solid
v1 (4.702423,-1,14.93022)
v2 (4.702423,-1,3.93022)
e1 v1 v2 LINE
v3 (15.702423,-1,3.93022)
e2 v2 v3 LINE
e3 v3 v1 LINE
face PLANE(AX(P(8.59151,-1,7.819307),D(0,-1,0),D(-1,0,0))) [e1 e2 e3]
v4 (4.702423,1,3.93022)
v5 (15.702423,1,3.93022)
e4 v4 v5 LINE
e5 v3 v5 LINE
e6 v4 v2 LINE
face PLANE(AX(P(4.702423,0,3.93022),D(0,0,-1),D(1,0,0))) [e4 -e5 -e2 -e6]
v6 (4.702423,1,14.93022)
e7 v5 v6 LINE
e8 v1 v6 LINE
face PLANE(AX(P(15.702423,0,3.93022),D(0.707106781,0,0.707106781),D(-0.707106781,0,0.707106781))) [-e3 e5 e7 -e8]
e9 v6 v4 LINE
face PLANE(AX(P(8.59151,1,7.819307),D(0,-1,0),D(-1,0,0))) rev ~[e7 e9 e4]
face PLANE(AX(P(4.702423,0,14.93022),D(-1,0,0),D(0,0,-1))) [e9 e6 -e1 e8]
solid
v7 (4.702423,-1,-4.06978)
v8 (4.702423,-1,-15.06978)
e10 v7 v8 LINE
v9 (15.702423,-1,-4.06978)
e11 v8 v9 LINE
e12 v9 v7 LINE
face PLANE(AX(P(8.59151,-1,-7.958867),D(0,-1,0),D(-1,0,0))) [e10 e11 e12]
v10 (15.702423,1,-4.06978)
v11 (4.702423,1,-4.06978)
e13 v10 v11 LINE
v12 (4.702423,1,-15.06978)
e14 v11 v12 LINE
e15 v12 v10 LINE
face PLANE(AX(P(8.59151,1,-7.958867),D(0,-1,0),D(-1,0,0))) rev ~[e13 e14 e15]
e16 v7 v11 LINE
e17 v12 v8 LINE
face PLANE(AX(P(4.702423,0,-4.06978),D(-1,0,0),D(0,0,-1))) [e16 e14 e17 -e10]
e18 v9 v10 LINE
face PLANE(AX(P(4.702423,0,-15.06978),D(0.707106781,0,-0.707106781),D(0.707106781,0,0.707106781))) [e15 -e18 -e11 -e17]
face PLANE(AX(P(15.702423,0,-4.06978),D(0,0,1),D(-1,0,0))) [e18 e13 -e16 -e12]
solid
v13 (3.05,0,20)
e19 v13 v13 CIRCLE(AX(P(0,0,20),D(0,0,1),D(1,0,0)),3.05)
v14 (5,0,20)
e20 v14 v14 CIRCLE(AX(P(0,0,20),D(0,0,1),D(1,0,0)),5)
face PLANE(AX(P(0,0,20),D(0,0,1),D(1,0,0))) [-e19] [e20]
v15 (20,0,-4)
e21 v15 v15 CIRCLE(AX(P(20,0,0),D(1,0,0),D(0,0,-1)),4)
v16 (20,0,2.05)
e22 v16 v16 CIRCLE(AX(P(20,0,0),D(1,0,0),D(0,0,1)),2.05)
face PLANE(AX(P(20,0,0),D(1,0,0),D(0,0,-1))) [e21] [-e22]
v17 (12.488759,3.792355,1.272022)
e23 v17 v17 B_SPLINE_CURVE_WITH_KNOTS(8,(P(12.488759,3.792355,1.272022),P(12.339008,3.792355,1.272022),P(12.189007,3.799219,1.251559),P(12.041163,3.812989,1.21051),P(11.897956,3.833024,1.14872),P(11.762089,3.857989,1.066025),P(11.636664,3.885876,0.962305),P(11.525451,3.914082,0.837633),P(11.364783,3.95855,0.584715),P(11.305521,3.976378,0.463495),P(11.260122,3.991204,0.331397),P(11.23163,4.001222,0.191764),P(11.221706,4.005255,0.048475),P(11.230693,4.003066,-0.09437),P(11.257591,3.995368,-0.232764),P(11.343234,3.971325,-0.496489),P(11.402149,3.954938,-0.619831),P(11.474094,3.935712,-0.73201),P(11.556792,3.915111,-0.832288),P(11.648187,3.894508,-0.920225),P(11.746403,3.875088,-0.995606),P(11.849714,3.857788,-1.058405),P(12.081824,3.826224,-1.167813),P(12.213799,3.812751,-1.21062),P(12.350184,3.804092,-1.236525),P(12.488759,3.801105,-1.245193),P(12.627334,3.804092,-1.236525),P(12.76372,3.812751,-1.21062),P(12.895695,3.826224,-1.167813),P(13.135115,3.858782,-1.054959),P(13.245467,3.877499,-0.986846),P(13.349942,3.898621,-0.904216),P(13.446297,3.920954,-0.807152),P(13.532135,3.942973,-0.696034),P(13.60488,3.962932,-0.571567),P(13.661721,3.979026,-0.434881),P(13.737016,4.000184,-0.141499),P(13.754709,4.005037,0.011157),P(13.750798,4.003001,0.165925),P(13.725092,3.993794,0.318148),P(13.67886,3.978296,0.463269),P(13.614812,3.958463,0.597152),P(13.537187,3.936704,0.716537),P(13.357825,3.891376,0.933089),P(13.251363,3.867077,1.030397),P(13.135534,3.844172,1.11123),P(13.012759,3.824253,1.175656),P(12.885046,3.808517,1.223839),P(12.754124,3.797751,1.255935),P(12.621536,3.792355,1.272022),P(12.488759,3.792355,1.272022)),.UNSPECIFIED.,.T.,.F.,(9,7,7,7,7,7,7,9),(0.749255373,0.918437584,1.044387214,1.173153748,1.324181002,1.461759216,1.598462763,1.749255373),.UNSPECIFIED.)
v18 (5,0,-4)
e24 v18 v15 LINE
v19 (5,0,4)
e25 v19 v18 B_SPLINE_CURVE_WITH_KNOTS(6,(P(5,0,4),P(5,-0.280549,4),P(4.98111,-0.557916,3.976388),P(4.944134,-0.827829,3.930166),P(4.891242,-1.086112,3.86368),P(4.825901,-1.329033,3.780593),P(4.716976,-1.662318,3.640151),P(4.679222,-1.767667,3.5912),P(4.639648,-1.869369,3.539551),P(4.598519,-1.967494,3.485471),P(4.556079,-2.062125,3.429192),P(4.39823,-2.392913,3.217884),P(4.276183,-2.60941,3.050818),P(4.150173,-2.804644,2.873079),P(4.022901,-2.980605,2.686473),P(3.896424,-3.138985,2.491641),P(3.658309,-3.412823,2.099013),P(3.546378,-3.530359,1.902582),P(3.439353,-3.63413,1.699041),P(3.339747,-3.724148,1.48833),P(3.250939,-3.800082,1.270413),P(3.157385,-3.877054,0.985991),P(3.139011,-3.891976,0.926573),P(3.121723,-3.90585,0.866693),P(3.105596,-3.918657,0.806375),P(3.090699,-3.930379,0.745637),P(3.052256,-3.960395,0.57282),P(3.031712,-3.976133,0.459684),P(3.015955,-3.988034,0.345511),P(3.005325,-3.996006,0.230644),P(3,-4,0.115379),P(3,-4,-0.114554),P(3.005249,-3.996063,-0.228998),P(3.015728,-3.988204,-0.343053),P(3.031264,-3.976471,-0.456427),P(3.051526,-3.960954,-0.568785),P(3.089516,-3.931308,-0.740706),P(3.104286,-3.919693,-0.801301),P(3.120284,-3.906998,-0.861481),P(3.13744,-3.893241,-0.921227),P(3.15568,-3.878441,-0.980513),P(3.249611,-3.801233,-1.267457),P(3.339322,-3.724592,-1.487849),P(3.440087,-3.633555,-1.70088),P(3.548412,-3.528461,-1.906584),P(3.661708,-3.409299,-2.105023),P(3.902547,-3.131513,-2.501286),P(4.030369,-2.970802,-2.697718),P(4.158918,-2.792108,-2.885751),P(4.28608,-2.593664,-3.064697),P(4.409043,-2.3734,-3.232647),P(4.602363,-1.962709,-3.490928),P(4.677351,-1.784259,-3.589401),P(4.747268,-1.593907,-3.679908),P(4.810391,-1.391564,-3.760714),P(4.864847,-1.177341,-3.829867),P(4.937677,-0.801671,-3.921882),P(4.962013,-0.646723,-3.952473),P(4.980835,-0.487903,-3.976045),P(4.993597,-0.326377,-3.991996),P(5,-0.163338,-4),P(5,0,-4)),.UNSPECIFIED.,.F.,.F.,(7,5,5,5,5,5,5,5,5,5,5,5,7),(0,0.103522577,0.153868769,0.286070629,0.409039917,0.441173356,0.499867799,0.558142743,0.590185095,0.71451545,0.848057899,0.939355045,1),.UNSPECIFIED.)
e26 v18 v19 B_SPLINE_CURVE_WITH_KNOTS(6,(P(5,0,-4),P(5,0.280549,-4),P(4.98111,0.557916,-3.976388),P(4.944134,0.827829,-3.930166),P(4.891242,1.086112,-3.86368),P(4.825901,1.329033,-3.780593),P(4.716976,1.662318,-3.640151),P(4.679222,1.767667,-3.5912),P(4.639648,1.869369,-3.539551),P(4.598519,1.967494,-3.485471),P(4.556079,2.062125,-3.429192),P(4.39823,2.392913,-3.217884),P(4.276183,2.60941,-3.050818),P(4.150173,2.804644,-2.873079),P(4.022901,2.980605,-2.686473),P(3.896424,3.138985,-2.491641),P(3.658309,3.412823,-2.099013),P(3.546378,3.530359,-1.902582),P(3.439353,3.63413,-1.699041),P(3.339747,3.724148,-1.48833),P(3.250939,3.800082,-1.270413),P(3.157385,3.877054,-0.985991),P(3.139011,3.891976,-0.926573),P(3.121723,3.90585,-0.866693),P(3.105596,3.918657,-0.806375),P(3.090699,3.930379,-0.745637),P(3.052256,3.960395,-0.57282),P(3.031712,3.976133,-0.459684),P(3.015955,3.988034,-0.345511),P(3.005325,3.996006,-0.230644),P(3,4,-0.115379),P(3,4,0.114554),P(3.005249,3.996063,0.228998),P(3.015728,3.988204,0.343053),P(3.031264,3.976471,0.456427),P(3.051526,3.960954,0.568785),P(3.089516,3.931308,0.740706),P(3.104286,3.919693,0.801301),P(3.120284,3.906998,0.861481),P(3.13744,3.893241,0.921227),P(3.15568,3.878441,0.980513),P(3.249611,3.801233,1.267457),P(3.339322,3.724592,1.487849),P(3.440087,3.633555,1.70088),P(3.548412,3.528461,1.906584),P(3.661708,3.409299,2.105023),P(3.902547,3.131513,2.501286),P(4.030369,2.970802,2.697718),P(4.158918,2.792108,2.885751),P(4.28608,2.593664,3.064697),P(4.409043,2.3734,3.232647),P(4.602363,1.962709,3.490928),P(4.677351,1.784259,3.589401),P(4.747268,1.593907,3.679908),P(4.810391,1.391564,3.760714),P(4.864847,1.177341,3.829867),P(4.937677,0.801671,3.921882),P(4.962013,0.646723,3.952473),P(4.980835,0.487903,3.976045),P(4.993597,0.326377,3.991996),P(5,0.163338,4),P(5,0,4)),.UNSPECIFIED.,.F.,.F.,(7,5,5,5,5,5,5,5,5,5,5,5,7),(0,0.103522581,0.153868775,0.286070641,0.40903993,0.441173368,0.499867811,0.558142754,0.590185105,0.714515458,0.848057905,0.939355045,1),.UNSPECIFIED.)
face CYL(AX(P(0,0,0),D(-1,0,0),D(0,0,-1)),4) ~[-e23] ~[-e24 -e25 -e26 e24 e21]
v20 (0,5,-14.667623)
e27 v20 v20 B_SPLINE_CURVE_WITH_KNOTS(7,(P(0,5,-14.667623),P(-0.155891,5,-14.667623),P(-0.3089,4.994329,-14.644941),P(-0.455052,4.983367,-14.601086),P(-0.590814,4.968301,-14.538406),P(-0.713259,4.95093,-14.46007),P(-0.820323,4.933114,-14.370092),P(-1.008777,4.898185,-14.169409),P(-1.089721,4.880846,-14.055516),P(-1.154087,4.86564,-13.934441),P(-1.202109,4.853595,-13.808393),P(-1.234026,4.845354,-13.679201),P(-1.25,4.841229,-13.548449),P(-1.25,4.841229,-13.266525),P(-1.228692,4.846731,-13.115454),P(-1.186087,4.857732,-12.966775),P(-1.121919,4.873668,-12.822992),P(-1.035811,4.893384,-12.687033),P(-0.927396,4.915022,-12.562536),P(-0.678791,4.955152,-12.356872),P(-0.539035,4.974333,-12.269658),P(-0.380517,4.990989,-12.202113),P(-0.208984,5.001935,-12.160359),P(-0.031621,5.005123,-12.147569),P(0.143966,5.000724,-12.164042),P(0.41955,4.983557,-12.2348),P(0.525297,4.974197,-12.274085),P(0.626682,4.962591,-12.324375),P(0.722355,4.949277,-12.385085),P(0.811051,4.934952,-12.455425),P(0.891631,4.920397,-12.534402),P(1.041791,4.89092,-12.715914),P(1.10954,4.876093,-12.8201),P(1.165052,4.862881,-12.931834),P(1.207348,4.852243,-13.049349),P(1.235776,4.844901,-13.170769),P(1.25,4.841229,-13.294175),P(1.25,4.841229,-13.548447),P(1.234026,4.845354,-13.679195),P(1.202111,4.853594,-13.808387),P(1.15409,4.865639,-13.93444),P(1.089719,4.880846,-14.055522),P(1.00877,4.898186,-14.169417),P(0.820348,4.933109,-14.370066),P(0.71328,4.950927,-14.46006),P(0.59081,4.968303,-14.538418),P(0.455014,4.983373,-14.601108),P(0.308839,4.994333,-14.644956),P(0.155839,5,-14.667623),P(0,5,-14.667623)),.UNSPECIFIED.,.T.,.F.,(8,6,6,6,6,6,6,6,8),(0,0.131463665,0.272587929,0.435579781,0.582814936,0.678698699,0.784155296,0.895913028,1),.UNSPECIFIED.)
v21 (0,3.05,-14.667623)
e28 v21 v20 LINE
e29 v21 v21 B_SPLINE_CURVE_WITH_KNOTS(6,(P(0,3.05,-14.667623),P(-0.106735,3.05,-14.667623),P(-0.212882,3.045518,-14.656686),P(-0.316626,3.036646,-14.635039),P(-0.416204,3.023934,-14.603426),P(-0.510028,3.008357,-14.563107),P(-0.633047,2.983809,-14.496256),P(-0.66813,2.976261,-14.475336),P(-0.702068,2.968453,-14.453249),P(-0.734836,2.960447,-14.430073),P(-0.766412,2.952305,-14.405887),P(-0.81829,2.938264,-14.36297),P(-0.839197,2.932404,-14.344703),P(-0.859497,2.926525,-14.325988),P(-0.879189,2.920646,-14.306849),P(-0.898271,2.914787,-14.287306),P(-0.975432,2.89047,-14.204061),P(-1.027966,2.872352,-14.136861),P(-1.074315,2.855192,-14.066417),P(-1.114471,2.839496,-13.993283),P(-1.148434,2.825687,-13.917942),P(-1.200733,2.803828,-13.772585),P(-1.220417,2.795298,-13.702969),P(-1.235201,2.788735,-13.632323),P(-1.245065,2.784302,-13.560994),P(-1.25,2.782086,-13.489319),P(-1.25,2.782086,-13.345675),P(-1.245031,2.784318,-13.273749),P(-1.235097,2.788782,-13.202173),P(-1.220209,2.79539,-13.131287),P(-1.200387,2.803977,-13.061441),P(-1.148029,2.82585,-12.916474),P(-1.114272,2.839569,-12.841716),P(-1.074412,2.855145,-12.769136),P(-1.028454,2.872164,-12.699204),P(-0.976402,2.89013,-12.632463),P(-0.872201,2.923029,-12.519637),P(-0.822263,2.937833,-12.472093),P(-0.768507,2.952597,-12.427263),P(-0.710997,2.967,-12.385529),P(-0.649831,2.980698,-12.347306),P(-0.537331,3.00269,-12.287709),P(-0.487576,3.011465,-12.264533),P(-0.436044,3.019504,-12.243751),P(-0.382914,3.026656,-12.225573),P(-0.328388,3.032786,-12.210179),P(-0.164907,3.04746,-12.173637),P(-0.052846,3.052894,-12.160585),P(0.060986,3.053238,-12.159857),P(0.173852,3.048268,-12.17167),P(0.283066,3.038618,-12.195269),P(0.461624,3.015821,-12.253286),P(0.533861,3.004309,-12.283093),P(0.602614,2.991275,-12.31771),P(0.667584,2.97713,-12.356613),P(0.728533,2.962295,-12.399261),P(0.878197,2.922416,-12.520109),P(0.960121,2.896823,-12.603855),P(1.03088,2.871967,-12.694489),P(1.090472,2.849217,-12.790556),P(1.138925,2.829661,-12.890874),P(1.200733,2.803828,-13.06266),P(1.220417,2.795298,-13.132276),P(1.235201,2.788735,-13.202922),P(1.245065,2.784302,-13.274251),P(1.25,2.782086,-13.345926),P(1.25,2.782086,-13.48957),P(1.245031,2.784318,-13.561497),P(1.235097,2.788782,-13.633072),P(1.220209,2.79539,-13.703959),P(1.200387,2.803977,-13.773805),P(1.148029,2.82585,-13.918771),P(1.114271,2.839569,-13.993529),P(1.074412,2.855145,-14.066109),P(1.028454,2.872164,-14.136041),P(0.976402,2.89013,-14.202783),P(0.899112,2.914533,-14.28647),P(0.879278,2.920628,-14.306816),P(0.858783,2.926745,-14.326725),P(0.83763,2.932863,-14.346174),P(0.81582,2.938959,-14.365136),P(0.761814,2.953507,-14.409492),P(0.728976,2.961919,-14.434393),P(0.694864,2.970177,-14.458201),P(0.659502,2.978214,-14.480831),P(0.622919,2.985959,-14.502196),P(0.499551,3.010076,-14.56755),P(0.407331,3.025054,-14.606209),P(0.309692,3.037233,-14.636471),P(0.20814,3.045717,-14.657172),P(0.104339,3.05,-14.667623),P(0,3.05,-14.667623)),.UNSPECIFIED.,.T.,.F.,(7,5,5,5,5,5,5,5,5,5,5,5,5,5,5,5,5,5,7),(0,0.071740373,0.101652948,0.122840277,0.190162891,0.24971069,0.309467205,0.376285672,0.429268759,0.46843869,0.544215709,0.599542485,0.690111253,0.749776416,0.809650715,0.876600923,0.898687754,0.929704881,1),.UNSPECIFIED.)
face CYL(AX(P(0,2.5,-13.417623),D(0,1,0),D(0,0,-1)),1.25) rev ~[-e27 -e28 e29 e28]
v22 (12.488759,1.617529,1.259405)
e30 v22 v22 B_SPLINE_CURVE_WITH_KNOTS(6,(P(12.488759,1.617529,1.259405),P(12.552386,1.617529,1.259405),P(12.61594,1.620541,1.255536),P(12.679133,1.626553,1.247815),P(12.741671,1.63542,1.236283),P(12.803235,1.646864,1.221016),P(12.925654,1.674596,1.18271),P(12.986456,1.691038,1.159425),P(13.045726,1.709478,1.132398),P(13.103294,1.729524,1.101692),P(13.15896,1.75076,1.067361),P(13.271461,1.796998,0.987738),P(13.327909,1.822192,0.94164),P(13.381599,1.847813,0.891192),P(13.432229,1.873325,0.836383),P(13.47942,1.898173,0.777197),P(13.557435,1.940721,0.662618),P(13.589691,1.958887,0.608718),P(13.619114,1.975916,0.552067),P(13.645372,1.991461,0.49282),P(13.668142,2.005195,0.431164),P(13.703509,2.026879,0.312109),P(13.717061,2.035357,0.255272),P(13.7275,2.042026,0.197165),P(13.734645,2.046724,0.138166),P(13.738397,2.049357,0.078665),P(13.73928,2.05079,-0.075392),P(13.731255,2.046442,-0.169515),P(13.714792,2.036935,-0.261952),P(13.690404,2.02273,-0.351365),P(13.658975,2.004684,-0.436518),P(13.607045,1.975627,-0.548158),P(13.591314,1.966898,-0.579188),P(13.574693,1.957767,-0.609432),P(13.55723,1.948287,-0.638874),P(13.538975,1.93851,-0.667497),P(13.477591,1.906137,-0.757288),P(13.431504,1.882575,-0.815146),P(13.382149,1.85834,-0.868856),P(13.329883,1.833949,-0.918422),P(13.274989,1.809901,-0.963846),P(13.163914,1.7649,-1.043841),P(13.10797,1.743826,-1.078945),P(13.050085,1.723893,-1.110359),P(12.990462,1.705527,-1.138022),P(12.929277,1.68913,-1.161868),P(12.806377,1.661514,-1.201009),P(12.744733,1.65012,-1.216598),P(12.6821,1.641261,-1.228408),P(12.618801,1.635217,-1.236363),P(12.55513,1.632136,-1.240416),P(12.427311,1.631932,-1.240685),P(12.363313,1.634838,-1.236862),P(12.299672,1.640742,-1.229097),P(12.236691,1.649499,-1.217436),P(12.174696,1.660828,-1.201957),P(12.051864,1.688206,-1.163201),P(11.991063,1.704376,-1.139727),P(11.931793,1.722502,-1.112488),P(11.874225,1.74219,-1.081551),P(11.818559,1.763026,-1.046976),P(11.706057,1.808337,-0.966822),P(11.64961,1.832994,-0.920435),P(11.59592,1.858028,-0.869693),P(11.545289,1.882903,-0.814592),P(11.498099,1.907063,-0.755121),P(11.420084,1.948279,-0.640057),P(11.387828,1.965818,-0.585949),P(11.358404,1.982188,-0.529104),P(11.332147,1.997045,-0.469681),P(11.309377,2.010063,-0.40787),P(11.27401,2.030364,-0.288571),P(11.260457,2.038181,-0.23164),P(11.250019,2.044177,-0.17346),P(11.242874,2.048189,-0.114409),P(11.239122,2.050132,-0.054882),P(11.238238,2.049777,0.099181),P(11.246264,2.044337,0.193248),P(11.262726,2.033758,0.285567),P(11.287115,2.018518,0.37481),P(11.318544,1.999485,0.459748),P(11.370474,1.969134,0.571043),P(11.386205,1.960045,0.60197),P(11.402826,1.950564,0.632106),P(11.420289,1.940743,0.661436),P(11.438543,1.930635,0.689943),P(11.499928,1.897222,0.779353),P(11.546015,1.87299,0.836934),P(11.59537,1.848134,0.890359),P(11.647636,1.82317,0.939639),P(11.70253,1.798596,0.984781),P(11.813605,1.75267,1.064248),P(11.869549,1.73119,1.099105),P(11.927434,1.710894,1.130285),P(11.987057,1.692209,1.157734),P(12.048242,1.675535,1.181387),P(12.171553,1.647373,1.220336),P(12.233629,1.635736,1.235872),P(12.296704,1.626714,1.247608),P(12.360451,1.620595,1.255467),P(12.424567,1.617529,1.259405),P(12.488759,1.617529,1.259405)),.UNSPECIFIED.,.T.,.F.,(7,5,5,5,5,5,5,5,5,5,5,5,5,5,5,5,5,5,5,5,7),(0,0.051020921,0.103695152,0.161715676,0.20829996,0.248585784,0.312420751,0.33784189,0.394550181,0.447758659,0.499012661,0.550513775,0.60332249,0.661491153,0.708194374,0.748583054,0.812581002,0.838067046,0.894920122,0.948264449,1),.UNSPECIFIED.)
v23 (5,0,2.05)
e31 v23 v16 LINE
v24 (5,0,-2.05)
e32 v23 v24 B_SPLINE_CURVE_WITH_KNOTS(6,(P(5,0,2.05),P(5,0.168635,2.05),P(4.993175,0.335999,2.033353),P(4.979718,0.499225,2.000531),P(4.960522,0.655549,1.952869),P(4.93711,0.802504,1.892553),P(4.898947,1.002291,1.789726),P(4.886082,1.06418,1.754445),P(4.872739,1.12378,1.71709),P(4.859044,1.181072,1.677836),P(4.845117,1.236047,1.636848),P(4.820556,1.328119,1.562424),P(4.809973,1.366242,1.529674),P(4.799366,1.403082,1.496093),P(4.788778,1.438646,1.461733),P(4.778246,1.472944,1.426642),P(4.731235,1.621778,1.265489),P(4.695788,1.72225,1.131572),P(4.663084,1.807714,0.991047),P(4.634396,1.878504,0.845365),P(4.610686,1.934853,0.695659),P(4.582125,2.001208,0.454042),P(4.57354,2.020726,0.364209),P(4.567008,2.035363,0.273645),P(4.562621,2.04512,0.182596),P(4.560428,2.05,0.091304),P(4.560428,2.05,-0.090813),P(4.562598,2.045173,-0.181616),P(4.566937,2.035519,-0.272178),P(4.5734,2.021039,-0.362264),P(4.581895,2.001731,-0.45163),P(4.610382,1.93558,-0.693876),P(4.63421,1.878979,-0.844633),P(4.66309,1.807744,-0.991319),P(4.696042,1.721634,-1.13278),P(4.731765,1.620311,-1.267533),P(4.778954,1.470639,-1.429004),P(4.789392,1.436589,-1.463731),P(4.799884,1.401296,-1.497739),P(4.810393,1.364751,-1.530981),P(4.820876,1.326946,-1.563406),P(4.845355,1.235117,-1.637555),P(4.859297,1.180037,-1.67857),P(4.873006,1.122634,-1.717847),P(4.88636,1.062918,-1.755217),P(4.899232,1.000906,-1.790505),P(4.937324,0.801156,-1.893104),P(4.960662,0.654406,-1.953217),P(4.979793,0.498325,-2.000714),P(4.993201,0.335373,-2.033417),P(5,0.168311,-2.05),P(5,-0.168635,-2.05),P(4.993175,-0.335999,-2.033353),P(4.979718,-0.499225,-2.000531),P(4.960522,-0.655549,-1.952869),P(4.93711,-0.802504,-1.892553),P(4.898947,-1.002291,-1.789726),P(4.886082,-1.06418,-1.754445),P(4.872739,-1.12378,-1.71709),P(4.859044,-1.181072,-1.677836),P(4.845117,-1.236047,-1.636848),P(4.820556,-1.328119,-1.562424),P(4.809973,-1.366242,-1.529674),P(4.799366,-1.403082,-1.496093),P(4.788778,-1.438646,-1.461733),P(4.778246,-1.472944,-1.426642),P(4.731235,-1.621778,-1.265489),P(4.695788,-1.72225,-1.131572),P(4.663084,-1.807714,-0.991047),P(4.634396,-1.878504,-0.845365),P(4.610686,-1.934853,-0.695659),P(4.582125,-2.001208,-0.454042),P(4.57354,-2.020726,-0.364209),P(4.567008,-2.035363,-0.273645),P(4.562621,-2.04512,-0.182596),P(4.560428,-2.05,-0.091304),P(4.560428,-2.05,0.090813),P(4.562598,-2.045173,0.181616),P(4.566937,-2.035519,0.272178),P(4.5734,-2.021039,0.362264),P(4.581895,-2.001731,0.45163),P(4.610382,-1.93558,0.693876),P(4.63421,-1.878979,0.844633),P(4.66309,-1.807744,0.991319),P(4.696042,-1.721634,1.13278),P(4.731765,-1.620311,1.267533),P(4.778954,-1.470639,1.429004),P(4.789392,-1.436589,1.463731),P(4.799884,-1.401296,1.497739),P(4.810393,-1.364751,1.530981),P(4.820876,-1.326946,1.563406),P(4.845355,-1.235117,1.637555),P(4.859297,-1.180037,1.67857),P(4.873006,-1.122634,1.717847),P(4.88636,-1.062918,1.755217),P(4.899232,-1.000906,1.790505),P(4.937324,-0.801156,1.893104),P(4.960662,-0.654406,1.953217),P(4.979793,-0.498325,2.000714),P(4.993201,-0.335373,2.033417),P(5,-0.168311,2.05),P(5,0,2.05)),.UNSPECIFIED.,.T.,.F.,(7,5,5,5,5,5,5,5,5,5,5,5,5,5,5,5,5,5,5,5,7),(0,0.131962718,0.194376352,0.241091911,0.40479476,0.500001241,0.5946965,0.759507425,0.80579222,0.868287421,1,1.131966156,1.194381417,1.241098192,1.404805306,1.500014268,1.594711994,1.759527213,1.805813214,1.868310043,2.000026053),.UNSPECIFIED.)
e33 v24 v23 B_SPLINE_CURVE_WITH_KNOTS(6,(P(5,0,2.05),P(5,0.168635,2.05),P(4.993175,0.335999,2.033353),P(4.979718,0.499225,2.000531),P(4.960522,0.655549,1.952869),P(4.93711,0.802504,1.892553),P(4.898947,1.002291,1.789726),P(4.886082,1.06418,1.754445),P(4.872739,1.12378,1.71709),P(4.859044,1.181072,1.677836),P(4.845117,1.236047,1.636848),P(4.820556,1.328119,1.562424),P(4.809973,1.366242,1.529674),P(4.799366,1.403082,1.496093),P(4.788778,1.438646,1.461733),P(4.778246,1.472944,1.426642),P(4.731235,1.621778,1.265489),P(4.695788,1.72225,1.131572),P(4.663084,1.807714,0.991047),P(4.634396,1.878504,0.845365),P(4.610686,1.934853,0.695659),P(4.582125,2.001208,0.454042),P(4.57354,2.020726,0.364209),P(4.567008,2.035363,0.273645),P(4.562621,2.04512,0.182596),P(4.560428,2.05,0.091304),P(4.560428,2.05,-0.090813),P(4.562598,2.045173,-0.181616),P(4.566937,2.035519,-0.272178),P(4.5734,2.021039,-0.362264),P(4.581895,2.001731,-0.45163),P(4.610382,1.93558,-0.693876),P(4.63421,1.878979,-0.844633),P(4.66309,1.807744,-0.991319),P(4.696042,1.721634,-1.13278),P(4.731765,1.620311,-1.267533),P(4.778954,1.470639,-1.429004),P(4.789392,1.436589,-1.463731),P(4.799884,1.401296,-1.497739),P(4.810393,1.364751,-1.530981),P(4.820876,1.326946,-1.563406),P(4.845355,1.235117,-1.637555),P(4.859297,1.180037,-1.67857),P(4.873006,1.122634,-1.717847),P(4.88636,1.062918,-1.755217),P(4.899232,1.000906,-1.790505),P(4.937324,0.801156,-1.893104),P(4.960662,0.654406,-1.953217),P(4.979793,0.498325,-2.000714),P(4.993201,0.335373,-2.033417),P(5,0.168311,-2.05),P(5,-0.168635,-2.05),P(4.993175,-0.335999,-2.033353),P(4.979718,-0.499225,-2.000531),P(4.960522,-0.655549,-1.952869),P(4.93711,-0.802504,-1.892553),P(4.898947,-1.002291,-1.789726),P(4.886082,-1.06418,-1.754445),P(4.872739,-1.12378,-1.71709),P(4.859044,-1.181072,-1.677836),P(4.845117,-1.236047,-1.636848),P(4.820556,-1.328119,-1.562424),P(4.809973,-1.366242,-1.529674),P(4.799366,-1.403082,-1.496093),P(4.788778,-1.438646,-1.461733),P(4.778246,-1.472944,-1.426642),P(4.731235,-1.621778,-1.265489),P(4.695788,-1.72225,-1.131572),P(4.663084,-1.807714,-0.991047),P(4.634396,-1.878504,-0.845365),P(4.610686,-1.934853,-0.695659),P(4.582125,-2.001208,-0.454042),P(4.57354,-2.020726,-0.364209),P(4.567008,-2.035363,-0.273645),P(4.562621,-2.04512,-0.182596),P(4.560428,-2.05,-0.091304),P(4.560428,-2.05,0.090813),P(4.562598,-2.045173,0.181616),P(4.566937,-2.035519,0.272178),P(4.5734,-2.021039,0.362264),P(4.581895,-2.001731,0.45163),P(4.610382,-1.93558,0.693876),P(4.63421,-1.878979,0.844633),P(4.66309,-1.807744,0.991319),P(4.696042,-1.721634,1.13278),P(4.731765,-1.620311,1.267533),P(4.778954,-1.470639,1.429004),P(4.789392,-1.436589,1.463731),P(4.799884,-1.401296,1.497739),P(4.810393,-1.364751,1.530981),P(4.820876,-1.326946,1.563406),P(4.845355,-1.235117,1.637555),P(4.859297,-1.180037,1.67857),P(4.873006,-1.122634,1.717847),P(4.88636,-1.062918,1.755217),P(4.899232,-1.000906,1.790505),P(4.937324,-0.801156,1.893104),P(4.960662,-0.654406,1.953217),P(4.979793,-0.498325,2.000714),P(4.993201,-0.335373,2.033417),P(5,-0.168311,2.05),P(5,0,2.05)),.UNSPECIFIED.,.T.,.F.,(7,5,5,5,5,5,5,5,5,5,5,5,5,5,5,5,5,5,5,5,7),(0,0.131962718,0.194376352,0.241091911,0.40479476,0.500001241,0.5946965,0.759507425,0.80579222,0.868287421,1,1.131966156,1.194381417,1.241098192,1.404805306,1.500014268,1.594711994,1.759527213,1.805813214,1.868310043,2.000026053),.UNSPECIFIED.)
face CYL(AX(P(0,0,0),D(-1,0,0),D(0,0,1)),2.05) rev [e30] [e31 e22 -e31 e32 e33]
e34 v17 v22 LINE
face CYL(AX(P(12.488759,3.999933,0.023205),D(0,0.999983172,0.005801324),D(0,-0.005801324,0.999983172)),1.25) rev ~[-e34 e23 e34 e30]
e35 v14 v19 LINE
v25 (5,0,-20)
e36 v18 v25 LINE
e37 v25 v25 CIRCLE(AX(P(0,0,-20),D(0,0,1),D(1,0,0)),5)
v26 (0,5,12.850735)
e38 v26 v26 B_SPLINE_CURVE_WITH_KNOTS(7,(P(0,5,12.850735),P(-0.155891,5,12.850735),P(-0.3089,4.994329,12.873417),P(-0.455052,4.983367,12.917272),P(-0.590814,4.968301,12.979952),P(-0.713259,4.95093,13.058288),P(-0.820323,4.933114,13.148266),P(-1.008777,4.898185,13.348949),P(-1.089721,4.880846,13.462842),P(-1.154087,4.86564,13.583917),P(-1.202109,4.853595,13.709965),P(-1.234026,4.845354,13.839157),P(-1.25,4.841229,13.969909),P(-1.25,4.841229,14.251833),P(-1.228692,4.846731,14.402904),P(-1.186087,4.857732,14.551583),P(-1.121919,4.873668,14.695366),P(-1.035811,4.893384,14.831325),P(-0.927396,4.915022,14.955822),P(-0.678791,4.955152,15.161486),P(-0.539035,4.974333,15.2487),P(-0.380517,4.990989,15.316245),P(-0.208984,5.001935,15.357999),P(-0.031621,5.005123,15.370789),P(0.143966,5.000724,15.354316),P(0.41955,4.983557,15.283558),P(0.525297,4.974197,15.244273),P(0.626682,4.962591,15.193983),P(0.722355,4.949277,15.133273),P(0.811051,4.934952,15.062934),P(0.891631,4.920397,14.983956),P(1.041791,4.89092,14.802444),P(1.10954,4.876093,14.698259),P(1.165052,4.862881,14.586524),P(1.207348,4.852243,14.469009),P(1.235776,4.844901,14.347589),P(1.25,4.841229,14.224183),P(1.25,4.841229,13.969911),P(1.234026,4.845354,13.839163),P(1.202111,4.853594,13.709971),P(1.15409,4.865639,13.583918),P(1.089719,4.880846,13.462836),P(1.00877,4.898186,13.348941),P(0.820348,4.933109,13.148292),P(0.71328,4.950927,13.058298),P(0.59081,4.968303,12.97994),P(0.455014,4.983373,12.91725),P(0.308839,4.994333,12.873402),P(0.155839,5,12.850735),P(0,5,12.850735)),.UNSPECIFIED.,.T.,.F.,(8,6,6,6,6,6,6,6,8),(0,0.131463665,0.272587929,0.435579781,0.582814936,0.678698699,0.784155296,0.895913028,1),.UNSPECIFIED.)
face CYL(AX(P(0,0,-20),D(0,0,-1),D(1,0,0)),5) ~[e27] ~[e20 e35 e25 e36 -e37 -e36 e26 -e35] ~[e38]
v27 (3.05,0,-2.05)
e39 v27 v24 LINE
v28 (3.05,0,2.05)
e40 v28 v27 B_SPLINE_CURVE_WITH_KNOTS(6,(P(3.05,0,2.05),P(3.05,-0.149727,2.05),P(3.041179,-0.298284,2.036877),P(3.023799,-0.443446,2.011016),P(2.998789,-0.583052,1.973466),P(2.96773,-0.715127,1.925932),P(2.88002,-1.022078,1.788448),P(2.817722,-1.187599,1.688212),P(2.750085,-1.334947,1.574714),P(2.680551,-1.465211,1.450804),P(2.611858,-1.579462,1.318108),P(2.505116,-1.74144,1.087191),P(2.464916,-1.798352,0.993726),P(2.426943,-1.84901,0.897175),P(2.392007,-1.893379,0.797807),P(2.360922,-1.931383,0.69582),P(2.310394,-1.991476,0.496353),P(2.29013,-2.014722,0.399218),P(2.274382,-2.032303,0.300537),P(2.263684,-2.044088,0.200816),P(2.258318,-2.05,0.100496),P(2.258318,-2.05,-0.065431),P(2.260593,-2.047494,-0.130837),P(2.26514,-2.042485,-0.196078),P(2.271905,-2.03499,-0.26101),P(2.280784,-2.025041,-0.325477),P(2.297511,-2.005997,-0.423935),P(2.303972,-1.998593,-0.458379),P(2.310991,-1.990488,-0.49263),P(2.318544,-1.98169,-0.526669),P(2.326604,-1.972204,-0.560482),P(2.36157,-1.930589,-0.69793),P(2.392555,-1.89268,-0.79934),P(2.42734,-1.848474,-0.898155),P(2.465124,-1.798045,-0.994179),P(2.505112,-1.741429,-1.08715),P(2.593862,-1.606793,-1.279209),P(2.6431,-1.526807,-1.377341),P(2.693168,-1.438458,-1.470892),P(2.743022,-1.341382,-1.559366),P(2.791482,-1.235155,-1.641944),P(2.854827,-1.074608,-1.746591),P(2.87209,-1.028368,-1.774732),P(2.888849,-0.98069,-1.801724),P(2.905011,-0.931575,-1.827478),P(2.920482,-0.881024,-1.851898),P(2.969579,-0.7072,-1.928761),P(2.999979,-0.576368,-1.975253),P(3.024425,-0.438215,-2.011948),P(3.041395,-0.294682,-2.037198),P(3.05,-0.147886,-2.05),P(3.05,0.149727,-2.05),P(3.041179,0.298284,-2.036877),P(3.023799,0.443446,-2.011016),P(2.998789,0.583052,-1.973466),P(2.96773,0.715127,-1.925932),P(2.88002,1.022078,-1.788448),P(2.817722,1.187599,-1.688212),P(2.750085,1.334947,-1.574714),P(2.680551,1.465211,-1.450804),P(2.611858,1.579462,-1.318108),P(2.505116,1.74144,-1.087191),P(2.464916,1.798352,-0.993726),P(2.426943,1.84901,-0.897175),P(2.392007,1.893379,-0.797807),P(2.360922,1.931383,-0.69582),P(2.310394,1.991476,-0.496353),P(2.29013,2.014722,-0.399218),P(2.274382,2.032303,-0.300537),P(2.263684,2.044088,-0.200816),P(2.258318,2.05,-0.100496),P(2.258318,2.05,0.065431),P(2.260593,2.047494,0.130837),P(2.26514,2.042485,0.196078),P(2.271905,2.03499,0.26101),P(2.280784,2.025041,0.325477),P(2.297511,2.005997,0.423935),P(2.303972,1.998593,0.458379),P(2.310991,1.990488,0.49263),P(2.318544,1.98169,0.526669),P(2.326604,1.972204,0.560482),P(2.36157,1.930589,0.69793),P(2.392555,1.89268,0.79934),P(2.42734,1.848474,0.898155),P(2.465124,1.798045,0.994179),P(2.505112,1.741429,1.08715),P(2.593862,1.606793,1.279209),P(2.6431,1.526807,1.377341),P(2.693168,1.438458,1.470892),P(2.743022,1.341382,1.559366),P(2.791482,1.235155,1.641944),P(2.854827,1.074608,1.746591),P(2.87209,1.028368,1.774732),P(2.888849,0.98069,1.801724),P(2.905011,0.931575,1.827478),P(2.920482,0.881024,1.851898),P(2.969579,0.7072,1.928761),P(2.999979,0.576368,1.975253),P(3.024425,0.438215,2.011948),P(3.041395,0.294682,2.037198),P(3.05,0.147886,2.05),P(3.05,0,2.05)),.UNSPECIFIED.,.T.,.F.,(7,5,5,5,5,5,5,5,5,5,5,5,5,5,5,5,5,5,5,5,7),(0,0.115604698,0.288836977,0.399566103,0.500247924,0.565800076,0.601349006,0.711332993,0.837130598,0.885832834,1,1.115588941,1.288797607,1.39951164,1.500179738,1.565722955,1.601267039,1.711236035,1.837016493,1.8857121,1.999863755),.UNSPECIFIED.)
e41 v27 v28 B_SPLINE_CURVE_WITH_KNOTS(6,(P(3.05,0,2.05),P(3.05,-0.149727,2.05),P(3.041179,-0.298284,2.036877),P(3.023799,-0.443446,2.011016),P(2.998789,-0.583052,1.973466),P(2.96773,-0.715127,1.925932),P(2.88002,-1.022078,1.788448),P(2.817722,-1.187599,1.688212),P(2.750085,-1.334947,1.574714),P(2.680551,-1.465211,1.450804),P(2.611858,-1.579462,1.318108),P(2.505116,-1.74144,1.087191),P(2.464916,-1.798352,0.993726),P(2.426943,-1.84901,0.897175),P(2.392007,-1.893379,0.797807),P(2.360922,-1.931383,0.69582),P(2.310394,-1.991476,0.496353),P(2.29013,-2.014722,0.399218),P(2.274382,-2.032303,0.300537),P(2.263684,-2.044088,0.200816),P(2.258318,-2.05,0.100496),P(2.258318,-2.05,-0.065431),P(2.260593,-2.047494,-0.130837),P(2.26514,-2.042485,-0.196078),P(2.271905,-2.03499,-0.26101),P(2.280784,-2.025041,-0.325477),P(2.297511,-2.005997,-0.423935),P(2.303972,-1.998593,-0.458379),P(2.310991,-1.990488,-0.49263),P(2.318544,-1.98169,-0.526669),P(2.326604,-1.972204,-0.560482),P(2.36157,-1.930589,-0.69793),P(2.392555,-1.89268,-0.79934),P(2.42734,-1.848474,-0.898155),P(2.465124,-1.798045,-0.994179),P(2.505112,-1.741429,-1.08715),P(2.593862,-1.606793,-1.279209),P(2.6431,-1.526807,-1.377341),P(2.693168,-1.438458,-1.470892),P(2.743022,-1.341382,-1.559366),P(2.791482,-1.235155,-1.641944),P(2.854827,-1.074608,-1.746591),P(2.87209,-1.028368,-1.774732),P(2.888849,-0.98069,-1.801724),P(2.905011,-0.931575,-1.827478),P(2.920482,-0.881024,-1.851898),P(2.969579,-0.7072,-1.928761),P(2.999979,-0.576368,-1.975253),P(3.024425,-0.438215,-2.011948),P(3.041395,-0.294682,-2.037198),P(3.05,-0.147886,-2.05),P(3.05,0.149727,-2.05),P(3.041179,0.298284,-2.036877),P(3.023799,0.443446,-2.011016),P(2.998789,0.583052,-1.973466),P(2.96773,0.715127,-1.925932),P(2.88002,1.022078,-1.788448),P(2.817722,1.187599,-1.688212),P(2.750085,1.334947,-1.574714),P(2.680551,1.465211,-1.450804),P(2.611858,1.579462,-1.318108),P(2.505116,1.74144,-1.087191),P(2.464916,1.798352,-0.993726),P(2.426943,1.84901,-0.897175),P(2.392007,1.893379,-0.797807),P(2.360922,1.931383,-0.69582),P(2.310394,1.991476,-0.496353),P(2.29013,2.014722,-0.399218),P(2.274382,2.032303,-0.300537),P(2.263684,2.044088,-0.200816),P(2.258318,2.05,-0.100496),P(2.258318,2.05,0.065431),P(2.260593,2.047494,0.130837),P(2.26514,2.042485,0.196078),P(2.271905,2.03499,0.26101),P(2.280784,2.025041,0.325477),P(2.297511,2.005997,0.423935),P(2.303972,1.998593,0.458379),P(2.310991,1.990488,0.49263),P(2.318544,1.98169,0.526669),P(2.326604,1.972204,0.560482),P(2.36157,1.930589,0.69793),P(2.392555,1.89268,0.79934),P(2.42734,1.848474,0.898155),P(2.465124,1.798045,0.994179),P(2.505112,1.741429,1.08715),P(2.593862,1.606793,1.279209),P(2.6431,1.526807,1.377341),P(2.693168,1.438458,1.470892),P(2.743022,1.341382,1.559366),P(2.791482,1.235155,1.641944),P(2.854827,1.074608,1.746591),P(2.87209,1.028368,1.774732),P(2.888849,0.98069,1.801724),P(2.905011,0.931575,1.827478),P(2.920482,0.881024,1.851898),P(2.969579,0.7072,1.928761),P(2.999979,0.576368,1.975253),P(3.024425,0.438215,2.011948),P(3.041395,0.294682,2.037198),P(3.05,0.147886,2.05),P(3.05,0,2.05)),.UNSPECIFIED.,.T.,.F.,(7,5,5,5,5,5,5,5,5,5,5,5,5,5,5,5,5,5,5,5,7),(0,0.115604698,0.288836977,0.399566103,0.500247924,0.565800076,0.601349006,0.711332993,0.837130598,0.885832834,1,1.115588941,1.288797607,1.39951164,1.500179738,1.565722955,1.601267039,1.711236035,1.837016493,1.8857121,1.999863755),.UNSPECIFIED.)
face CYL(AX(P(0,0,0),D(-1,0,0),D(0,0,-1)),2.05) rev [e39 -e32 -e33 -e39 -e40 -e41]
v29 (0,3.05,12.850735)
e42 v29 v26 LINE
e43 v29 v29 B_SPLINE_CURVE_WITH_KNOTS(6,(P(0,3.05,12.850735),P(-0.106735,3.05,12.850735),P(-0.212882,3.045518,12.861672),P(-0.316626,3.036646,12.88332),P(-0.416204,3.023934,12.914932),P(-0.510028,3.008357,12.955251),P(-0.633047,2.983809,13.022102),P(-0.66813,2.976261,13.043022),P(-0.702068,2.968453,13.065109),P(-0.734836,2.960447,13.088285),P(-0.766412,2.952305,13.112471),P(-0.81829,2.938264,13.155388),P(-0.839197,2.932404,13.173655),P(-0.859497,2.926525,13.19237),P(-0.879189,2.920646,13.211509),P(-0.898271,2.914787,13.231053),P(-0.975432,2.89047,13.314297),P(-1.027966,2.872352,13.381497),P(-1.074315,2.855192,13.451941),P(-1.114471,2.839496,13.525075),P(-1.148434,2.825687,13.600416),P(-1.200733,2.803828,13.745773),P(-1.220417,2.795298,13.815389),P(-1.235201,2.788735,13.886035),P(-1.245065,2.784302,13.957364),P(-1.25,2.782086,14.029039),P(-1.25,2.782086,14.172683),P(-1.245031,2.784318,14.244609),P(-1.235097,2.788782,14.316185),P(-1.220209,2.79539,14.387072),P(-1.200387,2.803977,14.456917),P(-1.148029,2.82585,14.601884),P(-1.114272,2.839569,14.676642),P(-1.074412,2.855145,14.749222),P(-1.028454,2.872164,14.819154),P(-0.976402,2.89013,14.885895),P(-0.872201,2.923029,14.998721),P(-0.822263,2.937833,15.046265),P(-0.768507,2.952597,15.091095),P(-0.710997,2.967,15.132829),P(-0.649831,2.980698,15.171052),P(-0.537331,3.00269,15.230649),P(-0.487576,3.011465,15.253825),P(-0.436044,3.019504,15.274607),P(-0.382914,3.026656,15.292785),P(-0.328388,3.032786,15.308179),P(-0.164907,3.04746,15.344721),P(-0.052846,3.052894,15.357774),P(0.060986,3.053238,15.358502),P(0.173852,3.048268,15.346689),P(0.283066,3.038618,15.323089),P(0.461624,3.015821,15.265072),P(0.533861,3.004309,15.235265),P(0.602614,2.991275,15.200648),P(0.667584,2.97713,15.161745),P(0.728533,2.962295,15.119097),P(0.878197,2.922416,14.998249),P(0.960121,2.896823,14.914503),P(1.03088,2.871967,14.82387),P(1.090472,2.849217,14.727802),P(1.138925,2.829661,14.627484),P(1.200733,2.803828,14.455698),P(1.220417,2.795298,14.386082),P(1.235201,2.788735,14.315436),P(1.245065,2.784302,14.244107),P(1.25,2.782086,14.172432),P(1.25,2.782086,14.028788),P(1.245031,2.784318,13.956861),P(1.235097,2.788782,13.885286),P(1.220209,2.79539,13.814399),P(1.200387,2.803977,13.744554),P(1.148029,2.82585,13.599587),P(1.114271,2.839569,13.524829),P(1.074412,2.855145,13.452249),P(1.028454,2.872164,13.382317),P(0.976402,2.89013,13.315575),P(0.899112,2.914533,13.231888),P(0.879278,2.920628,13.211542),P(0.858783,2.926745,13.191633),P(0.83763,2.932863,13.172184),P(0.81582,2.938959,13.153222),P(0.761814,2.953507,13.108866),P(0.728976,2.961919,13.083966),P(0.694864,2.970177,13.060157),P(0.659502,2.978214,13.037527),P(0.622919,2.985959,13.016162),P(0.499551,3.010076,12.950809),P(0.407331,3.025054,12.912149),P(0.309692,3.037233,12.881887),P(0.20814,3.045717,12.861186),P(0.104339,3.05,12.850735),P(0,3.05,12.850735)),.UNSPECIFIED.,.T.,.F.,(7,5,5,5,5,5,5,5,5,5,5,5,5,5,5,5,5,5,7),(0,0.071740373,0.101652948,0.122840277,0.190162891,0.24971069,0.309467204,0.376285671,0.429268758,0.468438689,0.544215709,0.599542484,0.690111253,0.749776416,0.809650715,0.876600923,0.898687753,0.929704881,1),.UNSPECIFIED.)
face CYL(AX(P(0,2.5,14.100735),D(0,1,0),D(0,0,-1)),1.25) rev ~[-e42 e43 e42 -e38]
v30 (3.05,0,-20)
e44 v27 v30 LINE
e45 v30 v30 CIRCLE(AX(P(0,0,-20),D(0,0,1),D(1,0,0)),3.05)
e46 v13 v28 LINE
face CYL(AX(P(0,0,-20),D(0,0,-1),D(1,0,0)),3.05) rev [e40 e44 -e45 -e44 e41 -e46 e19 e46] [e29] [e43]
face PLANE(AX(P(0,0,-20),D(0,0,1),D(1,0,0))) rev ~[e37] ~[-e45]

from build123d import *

# Parameters (mm, degrees)
SKETCH1_R                      = 5
SKETCH1_R_2                    = 3.05
BOSS_EXTRUDE1_DEPTH            = 20
BOSS_EXTRUDE2_START            = -20
SKETCH1_2_R                    = 5
SKETCH1_2_R_2                  = 3.05
BOSS_EXTRUDE2_DEPTH            = 20
SKETCH2_R                      = 4
SKETCH2_R_2                    = 2.05
BOSS_EXTRUDE3_DEPTH            = 20
CUT_EXTRUDE1_START             = -20
SKETCH3_R                      = 2.05
CUT_EXTRUDE1_DEPTH             = 20
SKETCH4_R                      = 3.05
CUT_EXTRUDE2_DEPTH             = 46.000000144
M3X0_5_TAPPED_HOLE1_REACH      = 30.067
M3X0_5_TAPPED_HOLE1_BORE_R     = 1.25
SKETCH7_W                      = 1.25
SKETCH7_H                      = 5
M3X0_5_TAPPED_HOLE2_AT_2_COUNT = 2
M3X0_5_TAPPED_HOLE2_AT_2_PITCH = 27.518358086
BOSS_EXTRUDE4_DEPTH            = 1
BOSS_EXTRUDE4_2_DEPTH          = 1


with BuildPart() as part:
    # Sketch1 → Boss-Extrude1 (new body)
    with BuildSketch(Plane.XY):
        Circle(SKETCH1_R)
        Circle(SKETCH1_R_2, mode=Mode.SUBTRACT)
    extrude(amount=BOSS_EXTRUDE1_DEPTH)

    # Sketch1<2> → Boss-Extrude2 (add)
    with BuildSketch(Plane.XY.offset(BOSS_EXTRUDE2_START)):
        Circle(SKETCH1_2_R)
        Circle(SKETCH1_2_R_2, mode=Mode.SUBTRACT)
    extrude(amount=BOSS_EXTRUDE2_DEPTH)

    # Sketch2 → Boss-Extrude3 (add)
    with BuildSketch(Plane(origin=(0, 0, 0), x_dir=(0, 0, -1), z_dir=(1, 0, 0))):
        Circle(SKETCH2_R)
        with Locations(Location((0, 0, 0), (0, 0, 180))):
            Circle(SKETCH2_R_2, mode=Mode.SUBTRACT)
    extrude(amount=BOSS_EXTRUDE3_DEPTH)

    # Sketch3 → Cut-Extrude1 (cut)
    with BuildSketch(Plane(origin=(20, 0, 0), x_dir=(0, 0, -1), z_dir=(1, 0, 0)).offset(CUT_EXTRUDE1_START)):
        Circle(SKETCH3_R)
    extrude(amount=CUT_EXTRUDE1_DEPTH, mode=Mode.SUBTRACT)

    # Sketch4 → Cut-Extrude2 (cut, through all)
    with BuildSketch(Plane.XY.offset(20)):
        Circle(SKETCH4_R)
    extrude(amount=-CUT_EXTRUDE2_DEPTH, mode=Mode.SUBTRACT)

    # M3x0.5 Tapped Hole1 bore (on position points) → M3x0.5 Tapped Hole1 (cut, up to next)
    with BuildSketch(Plane(origin=(12.488759404, 3.999932689, 0.023205297), x_dir=(0, -0.005801324205, 0.999983172177), z_dir=(0, 0.999983172177, 0.005801324205)), mode=Mode.PRIVATE) as m3x0_5_tapped_hole1_sk1:
        Circle(M3X0_5_TAPPED_HOLE1_BORE_R)
    m3x0_5_tapped_hole1_tool1 = extrude(m3x0_5_tapped_hole1_sk1.sketch, amount=-M3X0_5_TAPPED_HOLE1_REACH, mode=Mode.PRIVATE) & part.part
    add(m3x0_5_tapped_hole1_tool1.solids().sort_by_distance((12.488759, 3.999933, 0.023205))[0], mode=Mode.SUBTRACT)

    # Sketch7 → M3x0.5 Tapped Hole2 (revolve, cut)
    with BuildSketch(Plane(origin=(0, 0, -13.417622701), x_dir=(0, 0, -1), z_dir=(1, 0, 0))):
        with Locations((0.625, 2.5)):
            Rectangle(SKETCH7_W, SKETCH7_H)
    m3x0_5_tapped_hole2 = revolve(axis=Axis((0, -6.35, -13.417622701), (0, 1, 0)), mode=Mode.SUBTRACT)

    # M3x0.5 Tapped Hole2 at 2: M3x0.5 Tapped Hole2 ×2
    with Locations(*[(0, 0, i * M3X0_5_TAPPED_HOLE2_AT_2_PITCH) for i in range(1, M3X0_5_TAPPED_HOLE2_AT_2_COUNT)]):
        add(m3x0_5_tapped_hole2, mode=Mode.SUBTRACT)


with BuildPart() as body_2:
    # Sketch11 → Boss-Extrude4 (new, symmetric)
    with BuildSketch(Plane(origin=(0, 0, 0), x_dir=(-1, 0, 0), z_dir=(0, -1, 0))):
        Polygon((-4.702423176, -14.930219956), (-4.702423176, -3.930219956), (-15.702423176, -3.930219956), align=None)
    extrude(amount=BOSS_EXTRUDE4_DEPTH, both=True)


with BuildPart() as body_3:
    # Sketch11 → Boss-Extrude4 2 (new, symmetric)
    with BuildSketch(Plane(origin=(0, 0, 0), x_dir=(-1, 0, 0), z_dir=(0, -1, 0))):
        Polygon((-4.702423176, 4.069780044), (-4.702423176, 15.069780044), (-15.702423176, 4.069780044), align=None)
    extrude(amount=BOSS_EXTRUDE4_2_DEPTH, both=True)


solid = Compound([part.part, body_2.part, body_3.part])
